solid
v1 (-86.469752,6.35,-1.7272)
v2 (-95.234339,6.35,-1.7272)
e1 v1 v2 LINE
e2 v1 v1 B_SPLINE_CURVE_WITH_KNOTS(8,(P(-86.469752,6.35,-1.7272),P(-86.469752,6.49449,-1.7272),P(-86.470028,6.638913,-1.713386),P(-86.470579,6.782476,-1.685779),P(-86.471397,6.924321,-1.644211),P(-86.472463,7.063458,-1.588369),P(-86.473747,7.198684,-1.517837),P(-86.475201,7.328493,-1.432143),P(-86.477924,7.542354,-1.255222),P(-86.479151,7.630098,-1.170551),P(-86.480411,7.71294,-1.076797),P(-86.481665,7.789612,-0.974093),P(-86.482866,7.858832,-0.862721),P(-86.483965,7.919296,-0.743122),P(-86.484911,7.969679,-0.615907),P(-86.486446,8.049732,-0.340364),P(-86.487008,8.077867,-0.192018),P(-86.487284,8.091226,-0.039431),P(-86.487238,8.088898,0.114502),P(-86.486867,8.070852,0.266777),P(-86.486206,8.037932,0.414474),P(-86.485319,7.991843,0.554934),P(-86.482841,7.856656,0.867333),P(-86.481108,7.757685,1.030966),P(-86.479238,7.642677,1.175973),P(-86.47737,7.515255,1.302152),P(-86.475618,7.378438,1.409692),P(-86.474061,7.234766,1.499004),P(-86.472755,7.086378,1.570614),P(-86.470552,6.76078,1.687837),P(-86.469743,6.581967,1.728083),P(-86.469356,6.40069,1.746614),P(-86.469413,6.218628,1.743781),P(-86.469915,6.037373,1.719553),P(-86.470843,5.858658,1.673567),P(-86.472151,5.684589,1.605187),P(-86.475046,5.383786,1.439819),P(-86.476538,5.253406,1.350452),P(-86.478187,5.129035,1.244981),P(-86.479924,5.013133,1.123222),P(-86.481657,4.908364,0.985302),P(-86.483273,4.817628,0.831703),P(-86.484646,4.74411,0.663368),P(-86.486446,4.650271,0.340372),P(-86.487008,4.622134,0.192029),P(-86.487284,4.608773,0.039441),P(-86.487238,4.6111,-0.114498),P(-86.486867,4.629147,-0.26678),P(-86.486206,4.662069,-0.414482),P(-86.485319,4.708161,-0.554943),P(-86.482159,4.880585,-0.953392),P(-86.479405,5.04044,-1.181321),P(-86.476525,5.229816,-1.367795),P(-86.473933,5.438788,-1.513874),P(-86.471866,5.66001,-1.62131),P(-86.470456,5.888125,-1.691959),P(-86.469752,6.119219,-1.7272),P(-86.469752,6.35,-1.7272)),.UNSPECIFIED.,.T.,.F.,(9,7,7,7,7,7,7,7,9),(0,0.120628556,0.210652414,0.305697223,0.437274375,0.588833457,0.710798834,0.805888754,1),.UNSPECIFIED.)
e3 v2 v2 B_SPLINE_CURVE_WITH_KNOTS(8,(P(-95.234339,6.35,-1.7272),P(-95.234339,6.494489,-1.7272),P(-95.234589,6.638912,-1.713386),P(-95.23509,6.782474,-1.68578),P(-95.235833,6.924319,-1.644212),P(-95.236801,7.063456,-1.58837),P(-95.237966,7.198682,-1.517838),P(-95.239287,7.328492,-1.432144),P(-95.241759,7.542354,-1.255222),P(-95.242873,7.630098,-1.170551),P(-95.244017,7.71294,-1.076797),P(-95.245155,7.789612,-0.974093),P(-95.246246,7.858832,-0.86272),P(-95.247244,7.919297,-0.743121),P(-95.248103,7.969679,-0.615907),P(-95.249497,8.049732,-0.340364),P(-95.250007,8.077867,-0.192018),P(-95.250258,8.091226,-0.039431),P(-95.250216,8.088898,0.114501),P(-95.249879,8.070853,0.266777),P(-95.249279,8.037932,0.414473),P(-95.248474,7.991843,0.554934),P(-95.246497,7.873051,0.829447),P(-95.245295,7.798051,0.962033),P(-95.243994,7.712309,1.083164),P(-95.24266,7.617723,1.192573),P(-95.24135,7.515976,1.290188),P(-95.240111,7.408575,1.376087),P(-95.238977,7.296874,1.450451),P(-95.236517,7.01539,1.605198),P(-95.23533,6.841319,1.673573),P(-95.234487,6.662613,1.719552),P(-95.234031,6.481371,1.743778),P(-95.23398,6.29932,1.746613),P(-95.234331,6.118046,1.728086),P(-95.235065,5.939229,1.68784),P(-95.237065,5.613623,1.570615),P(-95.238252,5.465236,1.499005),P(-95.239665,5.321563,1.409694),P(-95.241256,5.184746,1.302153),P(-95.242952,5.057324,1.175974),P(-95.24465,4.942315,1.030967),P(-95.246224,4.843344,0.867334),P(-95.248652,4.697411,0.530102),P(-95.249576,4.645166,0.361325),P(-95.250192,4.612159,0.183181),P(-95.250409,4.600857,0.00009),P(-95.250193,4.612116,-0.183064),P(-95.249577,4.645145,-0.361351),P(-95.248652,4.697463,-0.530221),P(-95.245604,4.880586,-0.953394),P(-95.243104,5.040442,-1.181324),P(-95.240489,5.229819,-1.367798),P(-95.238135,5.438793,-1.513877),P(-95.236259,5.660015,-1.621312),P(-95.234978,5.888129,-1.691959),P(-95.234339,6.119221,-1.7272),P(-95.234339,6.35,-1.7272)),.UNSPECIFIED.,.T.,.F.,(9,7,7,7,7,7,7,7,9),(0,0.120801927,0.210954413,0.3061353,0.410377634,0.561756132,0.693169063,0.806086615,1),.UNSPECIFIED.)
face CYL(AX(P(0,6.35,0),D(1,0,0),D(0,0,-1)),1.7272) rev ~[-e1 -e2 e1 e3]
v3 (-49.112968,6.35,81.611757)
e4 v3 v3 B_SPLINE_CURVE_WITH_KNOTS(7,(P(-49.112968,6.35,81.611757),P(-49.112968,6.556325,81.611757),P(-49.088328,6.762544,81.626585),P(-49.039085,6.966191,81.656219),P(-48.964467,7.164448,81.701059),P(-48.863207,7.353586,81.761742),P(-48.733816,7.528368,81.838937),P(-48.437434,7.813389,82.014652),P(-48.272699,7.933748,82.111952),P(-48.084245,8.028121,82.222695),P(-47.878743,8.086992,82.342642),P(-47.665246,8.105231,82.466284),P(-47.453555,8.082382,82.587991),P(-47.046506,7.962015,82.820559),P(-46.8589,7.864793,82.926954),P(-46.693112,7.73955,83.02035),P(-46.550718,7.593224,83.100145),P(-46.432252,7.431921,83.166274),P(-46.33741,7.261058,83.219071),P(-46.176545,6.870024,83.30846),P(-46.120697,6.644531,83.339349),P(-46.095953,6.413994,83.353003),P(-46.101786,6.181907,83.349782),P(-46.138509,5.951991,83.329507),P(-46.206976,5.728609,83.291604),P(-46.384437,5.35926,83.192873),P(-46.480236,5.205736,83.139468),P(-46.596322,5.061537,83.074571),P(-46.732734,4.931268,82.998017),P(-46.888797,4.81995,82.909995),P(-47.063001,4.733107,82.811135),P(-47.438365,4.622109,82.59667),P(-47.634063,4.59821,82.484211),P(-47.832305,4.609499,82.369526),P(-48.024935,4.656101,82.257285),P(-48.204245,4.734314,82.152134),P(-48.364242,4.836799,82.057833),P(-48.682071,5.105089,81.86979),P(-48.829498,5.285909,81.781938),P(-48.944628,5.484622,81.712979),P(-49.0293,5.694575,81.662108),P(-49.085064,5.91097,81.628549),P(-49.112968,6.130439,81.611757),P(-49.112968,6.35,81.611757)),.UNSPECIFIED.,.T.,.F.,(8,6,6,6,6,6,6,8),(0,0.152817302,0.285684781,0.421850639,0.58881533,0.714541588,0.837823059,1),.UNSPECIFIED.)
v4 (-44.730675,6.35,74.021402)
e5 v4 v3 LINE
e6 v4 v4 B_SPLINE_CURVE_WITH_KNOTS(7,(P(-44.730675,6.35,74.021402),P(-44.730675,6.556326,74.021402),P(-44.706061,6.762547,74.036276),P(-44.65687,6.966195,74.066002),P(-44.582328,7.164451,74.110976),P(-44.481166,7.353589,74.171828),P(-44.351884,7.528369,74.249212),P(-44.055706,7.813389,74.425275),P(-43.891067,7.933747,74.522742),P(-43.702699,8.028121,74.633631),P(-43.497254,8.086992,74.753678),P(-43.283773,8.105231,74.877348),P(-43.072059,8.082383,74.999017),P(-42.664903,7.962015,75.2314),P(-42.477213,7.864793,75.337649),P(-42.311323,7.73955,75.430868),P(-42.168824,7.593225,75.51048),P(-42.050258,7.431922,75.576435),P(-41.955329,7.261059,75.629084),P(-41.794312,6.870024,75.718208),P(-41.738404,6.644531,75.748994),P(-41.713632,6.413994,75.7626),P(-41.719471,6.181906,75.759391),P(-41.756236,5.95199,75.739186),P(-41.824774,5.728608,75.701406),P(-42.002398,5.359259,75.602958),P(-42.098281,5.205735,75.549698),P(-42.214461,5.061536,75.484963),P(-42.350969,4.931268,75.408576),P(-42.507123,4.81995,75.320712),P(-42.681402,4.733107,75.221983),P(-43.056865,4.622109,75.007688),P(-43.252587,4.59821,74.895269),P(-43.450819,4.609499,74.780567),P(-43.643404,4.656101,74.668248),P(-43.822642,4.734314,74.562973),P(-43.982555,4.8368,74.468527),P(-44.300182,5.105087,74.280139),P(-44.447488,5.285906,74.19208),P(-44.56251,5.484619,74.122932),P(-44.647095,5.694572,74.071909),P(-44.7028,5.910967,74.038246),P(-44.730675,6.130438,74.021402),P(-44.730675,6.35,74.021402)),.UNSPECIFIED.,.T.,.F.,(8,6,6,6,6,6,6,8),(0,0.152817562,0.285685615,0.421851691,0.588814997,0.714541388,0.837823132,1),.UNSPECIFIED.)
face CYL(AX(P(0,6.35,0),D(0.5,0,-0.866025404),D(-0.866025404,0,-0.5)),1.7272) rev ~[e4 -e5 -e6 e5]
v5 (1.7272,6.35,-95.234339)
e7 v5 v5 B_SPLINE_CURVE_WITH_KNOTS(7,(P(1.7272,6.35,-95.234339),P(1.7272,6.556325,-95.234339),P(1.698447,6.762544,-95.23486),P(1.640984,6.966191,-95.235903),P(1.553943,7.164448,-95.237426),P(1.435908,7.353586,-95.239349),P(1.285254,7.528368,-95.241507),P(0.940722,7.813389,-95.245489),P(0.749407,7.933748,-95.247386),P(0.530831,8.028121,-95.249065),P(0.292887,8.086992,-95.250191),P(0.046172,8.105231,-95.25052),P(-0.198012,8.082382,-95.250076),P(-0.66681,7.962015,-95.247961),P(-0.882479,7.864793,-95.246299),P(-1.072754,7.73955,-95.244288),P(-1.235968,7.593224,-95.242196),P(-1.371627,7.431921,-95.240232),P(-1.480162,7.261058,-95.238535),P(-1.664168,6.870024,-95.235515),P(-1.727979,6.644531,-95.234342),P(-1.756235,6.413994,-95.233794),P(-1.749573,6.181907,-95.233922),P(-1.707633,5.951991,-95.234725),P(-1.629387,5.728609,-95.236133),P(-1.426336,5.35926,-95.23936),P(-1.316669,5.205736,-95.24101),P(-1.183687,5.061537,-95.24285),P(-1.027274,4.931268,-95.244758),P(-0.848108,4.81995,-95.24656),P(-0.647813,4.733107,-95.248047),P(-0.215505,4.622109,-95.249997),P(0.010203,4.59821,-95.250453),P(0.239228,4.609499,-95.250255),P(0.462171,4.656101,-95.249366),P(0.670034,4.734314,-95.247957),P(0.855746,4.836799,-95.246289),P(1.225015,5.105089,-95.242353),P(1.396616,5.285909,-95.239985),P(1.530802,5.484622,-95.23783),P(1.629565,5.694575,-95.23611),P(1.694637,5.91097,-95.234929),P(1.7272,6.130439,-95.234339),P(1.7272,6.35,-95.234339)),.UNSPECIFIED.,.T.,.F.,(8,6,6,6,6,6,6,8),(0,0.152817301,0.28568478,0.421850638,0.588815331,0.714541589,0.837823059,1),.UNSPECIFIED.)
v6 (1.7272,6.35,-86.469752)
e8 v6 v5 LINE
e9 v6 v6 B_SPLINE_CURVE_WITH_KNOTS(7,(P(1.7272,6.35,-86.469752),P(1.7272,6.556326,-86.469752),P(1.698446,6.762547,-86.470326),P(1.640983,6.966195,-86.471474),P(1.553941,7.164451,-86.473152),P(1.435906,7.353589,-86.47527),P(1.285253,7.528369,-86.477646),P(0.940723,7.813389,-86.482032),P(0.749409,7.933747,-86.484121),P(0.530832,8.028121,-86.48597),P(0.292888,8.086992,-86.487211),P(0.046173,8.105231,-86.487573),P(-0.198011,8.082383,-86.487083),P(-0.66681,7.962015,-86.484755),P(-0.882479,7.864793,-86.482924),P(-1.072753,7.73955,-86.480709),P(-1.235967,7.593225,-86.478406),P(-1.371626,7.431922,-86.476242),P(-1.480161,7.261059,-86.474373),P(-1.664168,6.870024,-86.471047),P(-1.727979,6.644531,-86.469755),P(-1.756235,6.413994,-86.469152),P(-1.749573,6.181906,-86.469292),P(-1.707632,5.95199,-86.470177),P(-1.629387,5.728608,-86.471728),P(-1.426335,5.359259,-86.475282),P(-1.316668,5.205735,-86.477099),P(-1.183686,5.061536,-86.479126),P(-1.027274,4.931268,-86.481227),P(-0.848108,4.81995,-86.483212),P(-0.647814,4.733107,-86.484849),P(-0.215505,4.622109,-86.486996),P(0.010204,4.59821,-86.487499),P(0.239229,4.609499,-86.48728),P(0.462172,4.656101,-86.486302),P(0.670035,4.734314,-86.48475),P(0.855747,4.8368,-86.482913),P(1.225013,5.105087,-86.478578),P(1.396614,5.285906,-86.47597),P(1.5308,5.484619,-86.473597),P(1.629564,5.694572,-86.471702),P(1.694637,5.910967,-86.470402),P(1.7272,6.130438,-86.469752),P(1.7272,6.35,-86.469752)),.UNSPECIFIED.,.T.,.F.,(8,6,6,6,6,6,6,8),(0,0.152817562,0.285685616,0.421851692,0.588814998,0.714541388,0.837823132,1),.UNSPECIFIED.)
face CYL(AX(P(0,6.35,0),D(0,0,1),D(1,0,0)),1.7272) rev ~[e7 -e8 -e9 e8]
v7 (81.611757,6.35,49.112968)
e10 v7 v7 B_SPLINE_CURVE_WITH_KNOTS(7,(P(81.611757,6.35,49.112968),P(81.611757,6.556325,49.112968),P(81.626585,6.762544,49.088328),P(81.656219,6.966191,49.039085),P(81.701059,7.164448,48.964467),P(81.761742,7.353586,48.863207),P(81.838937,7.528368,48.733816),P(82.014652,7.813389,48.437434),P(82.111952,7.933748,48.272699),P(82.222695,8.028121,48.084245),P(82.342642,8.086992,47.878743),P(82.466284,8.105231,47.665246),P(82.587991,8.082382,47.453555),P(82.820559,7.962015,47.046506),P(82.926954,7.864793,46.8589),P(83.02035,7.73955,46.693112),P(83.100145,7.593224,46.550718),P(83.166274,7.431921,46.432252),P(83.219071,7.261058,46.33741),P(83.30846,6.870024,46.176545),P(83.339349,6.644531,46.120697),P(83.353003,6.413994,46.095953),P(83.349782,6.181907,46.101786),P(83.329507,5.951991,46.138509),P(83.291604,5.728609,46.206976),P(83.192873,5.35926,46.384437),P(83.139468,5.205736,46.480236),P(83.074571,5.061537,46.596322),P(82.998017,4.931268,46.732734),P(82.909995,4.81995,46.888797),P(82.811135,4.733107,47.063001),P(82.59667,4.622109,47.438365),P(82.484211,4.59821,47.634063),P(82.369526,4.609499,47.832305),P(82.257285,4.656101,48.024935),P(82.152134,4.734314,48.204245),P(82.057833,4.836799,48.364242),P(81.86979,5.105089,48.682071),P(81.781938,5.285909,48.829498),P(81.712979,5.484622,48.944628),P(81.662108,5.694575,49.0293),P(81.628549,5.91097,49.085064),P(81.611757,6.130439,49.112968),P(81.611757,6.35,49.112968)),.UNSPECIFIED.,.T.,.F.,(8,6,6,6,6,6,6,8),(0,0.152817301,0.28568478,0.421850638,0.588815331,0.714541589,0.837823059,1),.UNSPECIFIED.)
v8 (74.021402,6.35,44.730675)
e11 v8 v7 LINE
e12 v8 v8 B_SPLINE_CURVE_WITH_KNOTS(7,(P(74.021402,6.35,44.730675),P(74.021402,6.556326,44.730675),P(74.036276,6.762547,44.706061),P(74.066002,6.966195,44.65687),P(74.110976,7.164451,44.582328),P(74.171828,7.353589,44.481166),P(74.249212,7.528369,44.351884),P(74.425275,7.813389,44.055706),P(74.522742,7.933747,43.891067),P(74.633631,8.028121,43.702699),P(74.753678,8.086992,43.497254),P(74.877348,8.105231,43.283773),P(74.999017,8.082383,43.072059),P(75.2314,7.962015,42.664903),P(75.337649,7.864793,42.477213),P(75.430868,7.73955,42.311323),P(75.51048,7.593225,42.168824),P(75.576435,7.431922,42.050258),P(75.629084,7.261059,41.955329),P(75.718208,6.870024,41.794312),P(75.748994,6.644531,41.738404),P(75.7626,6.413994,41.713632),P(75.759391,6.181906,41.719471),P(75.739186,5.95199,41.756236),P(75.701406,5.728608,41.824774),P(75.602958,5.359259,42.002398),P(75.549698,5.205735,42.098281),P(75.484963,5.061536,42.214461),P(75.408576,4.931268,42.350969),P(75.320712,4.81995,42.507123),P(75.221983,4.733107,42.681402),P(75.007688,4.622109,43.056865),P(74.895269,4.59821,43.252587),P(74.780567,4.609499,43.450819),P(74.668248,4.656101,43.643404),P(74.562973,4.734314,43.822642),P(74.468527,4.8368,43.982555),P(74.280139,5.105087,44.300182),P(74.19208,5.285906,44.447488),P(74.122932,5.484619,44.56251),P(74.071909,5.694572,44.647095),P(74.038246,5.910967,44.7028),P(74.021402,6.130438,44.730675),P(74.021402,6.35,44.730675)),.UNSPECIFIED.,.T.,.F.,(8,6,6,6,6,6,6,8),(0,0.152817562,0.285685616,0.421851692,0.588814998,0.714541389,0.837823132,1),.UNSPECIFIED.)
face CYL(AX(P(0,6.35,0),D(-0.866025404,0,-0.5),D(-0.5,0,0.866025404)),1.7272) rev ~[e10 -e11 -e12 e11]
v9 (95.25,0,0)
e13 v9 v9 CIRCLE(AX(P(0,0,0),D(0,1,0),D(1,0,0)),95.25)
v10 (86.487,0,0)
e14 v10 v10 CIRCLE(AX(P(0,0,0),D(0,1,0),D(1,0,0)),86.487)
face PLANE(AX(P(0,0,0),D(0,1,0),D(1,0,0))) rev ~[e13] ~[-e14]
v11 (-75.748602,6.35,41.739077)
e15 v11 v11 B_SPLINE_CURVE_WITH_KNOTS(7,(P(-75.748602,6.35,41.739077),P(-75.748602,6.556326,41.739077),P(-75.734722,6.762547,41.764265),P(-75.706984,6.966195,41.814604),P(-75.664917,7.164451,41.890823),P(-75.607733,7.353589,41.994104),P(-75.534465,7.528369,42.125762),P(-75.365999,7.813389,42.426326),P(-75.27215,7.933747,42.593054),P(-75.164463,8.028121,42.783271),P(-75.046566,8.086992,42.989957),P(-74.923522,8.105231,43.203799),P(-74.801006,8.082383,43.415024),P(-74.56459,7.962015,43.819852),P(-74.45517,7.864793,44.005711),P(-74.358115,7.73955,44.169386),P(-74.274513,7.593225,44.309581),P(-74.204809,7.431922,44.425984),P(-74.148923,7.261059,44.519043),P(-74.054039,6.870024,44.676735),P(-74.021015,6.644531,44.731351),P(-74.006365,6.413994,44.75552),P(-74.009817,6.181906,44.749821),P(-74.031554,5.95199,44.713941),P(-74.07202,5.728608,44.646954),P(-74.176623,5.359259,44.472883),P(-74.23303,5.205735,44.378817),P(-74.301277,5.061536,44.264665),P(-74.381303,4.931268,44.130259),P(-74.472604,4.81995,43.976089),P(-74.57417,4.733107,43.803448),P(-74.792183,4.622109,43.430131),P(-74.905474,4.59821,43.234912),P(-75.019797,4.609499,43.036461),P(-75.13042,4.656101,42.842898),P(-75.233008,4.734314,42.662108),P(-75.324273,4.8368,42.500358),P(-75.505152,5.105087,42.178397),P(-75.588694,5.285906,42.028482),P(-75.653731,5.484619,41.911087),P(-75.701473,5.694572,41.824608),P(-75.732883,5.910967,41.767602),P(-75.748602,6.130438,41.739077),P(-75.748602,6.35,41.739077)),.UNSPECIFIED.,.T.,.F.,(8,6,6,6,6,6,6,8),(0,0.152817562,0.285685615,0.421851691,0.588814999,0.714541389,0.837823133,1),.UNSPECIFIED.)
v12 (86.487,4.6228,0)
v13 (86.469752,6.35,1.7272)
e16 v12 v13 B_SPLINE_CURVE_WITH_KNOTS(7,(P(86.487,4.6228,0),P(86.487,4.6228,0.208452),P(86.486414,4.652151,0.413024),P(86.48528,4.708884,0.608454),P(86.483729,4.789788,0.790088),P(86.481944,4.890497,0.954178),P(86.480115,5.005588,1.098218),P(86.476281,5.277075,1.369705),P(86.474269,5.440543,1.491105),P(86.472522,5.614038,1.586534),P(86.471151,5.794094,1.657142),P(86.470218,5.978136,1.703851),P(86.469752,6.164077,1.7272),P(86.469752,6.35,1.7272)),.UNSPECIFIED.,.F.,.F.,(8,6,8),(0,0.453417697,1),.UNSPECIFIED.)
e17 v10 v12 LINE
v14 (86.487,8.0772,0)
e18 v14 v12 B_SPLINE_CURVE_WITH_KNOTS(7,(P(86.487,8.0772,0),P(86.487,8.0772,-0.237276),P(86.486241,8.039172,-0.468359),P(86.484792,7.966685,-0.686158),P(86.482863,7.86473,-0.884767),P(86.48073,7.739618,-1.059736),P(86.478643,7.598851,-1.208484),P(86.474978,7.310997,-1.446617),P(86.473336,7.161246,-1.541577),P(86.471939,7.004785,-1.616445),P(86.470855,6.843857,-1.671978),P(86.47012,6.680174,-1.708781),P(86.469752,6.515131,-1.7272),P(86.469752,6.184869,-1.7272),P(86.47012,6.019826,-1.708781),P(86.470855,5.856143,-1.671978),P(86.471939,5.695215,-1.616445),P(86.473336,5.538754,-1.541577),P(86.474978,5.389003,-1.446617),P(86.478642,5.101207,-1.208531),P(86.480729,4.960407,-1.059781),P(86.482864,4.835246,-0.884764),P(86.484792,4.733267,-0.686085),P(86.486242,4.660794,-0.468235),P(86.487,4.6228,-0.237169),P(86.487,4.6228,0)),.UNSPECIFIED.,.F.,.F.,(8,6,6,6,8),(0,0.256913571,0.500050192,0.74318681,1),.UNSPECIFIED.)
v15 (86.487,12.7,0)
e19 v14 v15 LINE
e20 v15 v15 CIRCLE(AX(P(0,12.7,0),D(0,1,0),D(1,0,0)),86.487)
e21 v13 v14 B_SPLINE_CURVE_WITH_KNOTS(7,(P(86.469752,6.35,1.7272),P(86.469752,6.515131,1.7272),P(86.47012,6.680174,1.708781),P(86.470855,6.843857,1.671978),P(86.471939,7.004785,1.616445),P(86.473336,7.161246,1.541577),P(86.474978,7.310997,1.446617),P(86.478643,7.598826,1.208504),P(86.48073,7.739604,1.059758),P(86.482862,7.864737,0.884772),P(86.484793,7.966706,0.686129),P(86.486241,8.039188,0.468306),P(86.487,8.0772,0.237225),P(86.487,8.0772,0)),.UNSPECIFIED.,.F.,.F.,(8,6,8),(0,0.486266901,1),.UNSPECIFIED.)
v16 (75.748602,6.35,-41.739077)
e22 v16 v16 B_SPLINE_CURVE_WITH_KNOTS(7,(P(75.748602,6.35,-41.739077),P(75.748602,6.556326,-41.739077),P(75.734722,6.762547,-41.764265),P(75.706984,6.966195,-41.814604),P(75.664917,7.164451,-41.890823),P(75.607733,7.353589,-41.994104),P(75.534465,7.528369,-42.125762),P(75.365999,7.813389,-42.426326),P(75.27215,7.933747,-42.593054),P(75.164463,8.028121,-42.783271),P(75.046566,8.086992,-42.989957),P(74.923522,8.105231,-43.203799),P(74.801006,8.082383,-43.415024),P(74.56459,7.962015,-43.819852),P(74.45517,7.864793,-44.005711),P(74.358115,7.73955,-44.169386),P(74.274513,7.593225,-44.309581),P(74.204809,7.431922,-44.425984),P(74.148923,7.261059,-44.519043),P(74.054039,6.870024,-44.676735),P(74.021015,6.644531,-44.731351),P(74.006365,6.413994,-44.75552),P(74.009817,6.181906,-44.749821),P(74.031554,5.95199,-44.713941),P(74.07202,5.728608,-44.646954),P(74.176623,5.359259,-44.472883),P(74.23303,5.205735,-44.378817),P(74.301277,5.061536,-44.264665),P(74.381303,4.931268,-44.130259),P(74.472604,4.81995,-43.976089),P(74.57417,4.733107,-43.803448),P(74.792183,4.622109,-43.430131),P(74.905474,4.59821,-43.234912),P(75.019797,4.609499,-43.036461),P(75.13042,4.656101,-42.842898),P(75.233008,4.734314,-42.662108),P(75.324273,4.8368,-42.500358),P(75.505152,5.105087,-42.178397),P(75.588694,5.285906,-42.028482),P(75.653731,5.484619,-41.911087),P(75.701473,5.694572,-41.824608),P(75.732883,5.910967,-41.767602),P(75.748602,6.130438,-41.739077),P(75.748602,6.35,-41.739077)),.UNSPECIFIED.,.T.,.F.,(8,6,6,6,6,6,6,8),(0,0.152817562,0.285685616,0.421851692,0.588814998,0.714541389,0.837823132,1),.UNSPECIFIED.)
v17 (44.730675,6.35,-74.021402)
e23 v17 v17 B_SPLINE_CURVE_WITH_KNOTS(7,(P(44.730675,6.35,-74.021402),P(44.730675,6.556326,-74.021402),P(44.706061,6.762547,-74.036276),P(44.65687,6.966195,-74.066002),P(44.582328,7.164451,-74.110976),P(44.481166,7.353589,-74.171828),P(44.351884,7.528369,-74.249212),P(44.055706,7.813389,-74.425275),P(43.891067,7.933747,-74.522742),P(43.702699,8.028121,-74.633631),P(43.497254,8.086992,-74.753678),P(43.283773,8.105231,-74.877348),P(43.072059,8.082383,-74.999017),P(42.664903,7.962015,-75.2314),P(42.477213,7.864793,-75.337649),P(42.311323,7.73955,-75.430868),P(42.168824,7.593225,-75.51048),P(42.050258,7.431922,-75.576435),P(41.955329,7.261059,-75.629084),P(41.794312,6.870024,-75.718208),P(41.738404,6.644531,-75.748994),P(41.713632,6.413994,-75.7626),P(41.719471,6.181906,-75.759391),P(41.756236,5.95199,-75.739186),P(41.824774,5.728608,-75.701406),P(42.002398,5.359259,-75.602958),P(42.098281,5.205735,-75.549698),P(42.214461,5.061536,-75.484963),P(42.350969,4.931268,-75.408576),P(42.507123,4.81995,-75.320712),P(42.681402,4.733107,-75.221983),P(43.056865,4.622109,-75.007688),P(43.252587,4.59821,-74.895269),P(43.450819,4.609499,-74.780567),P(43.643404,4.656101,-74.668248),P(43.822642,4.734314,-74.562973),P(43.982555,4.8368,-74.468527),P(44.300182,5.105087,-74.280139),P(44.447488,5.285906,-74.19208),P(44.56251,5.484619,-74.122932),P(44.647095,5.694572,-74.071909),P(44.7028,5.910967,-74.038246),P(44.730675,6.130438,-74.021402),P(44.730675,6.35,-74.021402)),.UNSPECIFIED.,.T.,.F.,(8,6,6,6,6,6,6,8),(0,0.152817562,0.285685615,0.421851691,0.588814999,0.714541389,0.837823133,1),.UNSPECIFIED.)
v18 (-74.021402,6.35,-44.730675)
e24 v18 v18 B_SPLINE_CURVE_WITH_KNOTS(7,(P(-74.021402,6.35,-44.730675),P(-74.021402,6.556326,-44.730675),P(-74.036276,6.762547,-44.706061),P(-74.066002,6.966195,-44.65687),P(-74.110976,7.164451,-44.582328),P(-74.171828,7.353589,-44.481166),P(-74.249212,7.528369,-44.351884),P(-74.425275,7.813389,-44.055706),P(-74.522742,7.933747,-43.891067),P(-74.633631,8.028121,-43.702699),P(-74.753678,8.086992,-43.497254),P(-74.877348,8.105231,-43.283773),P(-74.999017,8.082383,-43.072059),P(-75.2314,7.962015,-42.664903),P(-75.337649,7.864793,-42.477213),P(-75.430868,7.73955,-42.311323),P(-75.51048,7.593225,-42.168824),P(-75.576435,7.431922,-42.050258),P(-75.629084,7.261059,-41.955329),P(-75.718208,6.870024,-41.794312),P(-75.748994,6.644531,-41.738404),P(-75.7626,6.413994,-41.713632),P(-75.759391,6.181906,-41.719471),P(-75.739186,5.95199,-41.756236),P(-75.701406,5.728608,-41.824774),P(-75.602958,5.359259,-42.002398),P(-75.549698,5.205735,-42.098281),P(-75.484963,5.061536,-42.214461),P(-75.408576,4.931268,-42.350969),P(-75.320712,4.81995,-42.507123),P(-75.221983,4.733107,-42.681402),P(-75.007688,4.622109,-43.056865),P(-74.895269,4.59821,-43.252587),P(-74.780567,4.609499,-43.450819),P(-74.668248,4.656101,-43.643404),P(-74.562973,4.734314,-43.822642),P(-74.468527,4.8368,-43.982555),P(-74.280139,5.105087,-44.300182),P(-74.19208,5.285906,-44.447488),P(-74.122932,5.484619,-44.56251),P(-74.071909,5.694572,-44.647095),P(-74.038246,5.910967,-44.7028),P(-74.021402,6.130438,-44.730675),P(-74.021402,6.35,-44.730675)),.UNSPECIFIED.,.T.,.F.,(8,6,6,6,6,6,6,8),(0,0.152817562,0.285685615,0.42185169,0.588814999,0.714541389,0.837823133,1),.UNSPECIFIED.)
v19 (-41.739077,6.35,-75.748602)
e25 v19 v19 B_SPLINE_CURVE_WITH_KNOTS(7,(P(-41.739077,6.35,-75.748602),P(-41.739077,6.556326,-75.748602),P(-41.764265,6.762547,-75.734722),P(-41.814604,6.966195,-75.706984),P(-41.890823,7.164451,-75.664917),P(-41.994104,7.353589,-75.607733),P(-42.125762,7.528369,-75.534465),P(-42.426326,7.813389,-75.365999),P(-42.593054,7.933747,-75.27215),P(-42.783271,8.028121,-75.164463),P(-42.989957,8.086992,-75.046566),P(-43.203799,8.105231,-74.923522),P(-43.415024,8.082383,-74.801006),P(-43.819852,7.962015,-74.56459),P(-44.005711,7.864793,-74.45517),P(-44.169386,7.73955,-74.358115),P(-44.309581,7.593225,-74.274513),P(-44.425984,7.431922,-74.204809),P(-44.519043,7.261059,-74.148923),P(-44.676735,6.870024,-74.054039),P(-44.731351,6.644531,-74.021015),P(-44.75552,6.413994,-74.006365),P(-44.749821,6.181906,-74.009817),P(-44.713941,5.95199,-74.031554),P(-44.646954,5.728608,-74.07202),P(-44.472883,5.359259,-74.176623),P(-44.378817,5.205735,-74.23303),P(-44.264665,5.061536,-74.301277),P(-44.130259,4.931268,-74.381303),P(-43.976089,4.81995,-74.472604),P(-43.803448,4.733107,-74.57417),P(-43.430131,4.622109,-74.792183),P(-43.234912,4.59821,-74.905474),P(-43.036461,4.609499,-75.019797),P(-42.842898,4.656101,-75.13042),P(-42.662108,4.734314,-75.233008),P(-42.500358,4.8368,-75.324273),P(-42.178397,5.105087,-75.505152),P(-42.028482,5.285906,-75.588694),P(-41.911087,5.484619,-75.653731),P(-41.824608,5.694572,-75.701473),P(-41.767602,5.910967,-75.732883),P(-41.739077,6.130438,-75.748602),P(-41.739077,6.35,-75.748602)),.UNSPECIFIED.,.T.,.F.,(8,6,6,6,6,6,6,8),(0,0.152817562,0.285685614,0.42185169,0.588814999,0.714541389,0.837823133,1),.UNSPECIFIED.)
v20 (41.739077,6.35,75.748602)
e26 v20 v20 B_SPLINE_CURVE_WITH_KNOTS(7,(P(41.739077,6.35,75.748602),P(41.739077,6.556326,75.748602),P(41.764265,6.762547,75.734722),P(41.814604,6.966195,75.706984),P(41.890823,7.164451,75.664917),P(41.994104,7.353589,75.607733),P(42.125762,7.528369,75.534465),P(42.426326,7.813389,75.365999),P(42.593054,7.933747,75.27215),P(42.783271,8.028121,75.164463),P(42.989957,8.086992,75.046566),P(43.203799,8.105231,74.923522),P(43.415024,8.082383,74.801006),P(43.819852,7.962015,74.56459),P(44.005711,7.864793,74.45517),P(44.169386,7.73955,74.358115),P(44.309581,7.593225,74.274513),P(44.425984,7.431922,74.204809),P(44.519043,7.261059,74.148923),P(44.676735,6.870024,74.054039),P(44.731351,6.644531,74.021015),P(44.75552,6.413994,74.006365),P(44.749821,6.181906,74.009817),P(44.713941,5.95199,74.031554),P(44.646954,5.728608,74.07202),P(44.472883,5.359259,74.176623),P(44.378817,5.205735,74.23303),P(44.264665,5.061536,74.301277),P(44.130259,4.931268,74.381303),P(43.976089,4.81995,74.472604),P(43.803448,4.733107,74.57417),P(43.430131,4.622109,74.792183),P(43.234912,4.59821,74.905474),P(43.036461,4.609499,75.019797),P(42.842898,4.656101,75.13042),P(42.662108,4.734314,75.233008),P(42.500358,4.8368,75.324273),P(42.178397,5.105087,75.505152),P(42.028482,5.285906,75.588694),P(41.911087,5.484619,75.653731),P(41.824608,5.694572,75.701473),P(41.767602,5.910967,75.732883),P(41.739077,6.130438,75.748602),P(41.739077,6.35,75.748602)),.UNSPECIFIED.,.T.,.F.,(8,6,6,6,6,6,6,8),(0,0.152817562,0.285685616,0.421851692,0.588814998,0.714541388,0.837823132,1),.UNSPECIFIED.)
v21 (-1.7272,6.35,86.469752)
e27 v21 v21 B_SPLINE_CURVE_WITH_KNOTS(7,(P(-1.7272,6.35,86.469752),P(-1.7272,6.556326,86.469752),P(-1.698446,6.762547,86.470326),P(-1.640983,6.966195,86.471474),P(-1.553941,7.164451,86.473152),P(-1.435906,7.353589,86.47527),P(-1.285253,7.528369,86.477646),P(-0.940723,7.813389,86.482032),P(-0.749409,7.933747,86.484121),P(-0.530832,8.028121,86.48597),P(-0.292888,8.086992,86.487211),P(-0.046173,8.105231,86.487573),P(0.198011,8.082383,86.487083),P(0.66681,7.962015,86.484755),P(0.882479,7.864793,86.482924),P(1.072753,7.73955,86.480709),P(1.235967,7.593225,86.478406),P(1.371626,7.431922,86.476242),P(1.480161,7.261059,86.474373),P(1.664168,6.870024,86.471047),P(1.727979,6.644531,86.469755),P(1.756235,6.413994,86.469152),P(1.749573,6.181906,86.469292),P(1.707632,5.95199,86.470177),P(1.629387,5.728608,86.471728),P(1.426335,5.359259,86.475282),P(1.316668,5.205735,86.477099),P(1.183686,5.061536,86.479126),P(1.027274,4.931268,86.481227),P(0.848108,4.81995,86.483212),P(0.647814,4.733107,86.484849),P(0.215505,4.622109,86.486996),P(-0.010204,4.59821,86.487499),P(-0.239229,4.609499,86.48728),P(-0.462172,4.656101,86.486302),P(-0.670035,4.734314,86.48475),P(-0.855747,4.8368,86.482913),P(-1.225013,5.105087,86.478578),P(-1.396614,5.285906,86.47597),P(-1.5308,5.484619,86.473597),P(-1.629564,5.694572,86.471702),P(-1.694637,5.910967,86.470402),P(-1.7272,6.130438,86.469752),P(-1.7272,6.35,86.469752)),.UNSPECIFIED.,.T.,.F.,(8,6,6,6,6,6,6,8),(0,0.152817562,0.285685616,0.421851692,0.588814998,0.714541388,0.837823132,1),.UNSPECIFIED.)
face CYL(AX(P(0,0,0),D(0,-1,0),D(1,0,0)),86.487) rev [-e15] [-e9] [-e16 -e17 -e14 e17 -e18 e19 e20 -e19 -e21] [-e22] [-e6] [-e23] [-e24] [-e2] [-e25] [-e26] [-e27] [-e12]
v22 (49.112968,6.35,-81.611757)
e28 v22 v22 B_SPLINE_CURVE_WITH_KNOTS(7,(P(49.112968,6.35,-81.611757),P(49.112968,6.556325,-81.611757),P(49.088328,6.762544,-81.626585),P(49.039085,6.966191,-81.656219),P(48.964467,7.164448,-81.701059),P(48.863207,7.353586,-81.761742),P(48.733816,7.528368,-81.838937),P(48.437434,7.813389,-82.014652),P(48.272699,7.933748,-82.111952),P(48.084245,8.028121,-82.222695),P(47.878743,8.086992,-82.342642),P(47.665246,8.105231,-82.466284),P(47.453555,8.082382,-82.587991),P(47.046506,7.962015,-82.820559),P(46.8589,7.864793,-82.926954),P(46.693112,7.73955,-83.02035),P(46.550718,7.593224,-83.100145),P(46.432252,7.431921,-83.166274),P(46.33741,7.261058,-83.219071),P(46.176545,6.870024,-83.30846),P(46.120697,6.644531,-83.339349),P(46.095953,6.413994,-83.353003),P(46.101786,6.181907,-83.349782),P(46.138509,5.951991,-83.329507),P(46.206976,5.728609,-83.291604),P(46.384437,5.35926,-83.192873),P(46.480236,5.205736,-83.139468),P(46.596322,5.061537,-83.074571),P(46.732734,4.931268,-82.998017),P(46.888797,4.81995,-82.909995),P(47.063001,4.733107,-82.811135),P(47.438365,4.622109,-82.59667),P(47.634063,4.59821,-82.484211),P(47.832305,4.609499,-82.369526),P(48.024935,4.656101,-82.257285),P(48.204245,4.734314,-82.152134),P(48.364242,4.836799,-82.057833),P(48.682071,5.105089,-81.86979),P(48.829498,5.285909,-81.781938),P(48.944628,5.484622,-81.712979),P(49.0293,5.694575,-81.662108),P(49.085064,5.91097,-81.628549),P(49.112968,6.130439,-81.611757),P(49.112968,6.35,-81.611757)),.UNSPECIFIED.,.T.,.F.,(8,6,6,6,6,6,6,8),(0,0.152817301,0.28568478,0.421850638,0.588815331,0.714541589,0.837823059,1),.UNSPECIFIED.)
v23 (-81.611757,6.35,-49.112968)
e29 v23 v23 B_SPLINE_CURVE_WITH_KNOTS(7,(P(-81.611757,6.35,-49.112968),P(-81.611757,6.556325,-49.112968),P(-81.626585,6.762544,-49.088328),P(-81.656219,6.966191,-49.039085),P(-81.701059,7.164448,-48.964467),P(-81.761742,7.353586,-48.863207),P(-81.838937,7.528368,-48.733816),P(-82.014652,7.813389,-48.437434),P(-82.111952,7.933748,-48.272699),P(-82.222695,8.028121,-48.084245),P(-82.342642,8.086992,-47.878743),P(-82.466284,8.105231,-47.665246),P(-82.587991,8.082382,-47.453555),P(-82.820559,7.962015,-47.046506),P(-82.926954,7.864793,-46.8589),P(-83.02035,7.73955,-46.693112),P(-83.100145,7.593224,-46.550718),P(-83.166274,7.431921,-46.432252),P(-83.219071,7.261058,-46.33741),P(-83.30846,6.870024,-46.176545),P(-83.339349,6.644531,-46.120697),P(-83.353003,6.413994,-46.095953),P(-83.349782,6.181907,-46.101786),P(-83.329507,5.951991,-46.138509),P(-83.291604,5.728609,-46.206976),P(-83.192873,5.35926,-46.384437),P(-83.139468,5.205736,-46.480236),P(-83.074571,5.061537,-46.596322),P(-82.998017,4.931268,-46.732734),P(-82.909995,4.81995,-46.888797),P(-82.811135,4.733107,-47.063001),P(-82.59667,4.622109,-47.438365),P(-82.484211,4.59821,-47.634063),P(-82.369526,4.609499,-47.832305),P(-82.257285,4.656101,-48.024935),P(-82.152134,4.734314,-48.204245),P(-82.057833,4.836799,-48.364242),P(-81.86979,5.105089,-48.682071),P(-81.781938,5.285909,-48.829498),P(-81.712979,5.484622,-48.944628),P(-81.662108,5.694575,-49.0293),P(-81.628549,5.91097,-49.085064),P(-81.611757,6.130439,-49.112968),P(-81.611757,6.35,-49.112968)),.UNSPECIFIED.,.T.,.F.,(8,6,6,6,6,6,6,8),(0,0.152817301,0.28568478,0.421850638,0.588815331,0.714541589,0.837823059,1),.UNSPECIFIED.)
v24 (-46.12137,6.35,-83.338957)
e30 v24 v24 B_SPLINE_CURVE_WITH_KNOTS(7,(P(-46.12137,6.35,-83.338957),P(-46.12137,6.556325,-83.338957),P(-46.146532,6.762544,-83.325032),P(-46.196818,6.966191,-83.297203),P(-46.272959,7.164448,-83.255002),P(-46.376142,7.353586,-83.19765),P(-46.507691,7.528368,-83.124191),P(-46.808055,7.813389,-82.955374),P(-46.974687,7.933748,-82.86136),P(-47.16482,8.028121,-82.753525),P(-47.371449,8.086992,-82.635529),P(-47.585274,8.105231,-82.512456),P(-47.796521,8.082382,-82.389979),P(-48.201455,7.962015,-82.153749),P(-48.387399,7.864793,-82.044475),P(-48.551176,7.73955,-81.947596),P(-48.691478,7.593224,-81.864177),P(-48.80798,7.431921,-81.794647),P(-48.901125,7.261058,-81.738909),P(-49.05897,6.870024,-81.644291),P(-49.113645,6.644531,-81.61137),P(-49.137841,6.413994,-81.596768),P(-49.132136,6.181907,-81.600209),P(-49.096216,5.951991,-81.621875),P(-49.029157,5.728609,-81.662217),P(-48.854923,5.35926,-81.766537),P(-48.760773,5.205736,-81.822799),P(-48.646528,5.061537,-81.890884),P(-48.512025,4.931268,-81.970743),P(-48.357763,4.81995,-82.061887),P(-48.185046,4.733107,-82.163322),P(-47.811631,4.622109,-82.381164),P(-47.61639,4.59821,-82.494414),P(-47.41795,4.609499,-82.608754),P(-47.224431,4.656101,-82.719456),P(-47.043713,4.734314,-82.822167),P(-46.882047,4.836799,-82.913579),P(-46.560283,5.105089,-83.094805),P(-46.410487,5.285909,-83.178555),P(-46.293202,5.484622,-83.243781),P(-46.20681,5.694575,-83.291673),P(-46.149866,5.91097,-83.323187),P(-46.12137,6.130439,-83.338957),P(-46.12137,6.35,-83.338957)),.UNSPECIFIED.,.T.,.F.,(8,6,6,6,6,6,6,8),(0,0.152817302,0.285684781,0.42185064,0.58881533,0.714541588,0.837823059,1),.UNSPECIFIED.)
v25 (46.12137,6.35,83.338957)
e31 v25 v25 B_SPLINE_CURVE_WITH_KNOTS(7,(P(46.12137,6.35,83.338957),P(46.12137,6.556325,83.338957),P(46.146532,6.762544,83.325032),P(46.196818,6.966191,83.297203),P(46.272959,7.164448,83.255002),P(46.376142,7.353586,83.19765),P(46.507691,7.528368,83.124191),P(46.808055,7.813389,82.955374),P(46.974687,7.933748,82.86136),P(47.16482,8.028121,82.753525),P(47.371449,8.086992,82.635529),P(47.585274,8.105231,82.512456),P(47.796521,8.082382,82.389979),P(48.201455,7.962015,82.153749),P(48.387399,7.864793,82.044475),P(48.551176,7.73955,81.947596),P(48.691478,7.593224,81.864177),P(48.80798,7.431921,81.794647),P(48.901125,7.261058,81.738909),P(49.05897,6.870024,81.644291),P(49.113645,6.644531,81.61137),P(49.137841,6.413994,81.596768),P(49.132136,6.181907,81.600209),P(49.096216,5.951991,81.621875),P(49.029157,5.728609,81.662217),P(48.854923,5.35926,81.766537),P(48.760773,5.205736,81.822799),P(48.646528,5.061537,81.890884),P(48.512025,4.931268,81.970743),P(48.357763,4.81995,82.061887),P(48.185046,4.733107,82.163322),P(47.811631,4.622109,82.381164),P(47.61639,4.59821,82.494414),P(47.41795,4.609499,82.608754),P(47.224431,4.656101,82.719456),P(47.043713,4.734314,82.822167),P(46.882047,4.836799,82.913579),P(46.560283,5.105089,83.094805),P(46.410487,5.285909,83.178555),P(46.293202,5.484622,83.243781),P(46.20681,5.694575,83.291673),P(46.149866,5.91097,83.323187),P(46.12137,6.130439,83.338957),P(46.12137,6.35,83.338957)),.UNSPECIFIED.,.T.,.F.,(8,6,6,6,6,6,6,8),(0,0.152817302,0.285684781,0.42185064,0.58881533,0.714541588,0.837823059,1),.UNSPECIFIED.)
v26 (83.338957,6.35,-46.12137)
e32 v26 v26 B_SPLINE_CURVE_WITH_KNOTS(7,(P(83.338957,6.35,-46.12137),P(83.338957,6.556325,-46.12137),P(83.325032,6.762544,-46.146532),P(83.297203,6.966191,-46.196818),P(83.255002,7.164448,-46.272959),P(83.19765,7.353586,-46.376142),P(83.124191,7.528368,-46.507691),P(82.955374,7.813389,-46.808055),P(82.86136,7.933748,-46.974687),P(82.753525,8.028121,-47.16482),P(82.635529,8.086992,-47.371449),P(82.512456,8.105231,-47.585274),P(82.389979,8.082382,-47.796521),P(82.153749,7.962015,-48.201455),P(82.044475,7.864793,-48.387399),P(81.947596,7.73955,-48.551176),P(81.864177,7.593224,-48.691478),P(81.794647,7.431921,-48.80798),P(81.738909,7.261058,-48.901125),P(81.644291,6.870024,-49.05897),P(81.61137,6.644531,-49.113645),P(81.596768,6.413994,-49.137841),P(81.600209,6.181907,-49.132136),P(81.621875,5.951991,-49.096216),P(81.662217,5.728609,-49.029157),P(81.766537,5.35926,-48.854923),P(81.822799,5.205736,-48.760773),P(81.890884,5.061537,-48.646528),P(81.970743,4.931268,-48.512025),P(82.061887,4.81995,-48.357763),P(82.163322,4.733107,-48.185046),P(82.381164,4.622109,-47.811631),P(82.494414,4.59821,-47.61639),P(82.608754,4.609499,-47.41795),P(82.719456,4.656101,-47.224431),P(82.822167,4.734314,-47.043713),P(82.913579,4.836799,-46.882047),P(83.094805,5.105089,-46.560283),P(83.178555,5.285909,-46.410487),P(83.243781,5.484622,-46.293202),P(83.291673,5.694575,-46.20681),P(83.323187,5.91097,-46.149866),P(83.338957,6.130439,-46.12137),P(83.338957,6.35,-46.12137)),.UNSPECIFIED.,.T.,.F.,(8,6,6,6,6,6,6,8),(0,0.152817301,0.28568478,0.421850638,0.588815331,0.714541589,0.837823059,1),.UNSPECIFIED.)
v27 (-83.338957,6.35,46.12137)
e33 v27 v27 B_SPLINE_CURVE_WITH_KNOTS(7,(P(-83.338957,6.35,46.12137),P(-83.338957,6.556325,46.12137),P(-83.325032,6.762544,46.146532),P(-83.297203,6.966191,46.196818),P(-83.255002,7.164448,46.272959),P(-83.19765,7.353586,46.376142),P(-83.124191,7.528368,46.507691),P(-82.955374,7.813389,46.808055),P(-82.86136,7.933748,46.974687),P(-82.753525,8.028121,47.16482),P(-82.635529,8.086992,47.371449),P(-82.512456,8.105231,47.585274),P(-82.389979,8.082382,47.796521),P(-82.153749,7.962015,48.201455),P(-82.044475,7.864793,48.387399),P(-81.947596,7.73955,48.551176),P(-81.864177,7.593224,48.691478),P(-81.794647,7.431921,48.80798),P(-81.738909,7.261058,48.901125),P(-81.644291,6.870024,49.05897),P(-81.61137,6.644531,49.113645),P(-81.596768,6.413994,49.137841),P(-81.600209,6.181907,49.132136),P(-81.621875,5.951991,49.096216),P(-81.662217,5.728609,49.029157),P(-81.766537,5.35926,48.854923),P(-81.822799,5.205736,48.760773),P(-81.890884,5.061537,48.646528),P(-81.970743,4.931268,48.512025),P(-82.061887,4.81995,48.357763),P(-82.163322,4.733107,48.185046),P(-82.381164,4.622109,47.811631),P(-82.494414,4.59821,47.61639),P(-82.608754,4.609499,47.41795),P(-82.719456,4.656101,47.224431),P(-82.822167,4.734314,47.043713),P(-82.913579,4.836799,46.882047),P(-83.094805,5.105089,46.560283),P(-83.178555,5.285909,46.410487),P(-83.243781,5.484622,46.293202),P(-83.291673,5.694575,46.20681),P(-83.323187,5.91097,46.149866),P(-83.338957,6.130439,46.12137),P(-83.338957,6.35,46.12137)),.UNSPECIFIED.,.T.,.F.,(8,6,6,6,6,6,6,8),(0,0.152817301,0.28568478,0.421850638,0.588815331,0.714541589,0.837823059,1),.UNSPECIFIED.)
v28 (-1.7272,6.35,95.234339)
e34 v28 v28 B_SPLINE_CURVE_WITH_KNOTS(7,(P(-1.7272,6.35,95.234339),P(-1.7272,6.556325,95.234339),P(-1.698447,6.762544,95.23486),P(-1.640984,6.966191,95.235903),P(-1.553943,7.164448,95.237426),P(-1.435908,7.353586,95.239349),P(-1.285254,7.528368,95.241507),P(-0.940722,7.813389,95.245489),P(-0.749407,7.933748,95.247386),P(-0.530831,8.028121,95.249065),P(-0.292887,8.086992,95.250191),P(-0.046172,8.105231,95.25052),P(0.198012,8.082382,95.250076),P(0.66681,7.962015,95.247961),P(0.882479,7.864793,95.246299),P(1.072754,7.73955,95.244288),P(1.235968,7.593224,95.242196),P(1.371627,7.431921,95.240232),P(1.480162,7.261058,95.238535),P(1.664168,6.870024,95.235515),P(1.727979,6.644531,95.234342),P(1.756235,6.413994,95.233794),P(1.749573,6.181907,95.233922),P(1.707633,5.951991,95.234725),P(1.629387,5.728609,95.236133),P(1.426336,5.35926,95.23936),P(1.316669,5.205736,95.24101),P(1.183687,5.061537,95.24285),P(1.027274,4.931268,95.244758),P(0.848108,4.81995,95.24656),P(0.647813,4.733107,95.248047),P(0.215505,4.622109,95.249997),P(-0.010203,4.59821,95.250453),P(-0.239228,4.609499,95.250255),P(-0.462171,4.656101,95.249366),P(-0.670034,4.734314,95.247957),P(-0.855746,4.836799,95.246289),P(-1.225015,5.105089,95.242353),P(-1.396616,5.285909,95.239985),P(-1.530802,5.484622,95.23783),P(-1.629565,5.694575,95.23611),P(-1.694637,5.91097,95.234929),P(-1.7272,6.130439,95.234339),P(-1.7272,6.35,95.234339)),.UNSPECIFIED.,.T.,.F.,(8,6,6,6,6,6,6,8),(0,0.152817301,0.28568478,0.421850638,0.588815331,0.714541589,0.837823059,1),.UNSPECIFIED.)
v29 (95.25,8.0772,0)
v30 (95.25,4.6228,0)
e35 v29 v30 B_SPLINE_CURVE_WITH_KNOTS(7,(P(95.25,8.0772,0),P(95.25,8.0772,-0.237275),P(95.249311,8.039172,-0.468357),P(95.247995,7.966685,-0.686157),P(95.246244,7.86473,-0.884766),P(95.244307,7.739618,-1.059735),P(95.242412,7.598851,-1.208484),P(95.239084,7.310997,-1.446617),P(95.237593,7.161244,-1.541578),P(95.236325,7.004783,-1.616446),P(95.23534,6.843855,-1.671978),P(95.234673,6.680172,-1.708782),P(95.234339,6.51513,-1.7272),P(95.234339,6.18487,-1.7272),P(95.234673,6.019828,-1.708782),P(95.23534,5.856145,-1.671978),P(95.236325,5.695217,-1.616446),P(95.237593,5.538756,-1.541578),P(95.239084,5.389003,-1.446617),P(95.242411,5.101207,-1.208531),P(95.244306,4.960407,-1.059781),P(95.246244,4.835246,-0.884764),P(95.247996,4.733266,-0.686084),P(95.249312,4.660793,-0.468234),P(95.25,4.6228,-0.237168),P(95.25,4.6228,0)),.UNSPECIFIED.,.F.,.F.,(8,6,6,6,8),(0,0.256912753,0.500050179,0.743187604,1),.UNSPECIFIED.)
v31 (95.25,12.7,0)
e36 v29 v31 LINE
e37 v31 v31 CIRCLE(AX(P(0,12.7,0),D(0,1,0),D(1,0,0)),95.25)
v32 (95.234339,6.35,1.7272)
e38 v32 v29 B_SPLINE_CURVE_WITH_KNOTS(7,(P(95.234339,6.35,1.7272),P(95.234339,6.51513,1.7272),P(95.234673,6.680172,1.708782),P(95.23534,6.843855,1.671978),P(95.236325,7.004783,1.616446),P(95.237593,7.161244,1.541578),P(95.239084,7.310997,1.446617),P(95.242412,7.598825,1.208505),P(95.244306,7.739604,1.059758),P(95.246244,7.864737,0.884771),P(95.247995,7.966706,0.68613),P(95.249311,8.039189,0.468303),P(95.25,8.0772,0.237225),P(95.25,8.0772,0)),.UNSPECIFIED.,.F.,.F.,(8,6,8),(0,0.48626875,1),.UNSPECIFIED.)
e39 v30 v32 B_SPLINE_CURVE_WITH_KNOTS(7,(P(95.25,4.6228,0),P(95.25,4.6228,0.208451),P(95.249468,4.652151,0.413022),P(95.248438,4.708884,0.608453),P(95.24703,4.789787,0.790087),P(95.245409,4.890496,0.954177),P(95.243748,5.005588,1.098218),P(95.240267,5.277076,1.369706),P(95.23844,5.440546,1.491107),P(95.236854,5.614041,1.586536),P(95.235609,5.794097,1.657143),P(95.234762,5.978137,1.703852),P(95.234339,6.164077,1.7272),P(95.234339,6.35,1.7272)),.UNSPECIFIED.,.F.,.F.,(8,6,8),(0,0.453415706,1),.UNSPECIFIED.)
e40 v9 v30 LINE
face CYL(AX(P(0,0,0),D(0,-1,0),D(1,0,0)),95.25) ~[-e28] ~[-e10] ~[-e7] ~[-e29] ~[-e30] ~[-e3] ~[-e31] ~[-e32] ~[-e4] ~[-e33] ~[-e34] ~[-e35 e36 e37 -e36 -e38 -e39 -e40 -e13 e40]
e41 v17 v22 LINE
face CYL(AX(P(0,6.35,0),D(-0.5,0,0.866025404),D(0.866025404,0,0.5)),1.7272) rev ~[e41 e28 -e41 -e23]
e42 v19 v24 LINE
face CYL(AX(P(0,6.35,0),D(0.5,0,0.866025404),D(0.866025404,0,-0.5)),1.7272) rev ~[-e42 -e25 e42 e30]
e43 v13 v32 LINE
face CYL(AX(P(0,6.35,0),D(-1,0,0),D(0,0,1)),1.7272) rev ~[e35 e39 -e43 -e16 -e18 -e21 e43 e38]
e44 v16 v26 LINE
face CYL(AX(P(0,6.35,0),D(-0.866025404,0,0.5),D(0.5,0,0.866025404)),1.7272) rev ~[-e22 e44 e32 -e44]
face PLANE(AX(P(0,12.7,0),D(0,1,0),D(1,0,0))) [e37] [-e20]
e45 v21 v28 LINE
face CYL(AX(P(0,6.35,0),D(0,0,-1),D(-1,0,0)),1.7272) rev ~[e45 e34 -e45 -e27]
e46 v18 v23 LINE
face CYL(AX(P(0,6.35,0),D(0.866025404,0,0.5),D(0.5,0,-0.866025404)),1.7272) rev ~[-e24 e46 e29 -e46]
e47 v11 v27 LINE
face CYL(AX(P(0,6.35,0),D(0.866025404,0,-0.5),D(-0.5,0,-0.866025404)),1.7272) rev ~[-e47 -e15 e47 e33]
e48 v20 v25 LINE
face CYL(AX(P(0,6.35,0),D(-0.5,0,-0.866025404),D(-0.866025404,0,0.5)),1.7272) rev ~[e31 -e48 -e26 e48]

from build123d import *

# Parameters (mm, degrees)
SKETCH1_R           = 95.25
SKETCH1_R_2         = 86.487
BOSS_EXTRUDE1_DEPTH = 12.7
SKETCH3_R           = 1.7272
CUT_EXTRUDE2_DEPTH  = 254
CIRPATTERN1_COUNT   = 12


with BuildPart() as part:
    # Sketch1 → Boss-Extrude1 (new body)
    with BuildSketch(Plane(origin=(0, 0, 0), x_dir=(1, 0, 0), z_dir=(0, 1, 0))):
        Circle(SKETCH1_R)
        Circle(SKETCH1_R_2, mode=Mode.SUBTRACT)
    extrude(amount=BOSS_EXTRUDE1_DEPTH)

    # Sketch3 → Cut-Extrude2 (cut)
    with BuildSketch(Plane.XY):
        with Locations((0, 6.35)):
            Circle(SKETCH3_R)
    cut_extrude2 = extrude(amount=-CUT_EXTRUDE2_DEPTH, mode=Mode.SUBTRACT)

    # CirPattern1: Cut-Extrude2 ×12 about axis
    cirpattern1_axis = Axis((0, 12.7, 0), (0, 1, 0))
    for i in range(1, CIRPATTERN1_COUNT):
        add(cut_extrude2.rotate(cirpattern1_axis, i * 360 / CIRPATTERN1_COUNT), mode=Mode.SUBTRACT)


solid = part.part
